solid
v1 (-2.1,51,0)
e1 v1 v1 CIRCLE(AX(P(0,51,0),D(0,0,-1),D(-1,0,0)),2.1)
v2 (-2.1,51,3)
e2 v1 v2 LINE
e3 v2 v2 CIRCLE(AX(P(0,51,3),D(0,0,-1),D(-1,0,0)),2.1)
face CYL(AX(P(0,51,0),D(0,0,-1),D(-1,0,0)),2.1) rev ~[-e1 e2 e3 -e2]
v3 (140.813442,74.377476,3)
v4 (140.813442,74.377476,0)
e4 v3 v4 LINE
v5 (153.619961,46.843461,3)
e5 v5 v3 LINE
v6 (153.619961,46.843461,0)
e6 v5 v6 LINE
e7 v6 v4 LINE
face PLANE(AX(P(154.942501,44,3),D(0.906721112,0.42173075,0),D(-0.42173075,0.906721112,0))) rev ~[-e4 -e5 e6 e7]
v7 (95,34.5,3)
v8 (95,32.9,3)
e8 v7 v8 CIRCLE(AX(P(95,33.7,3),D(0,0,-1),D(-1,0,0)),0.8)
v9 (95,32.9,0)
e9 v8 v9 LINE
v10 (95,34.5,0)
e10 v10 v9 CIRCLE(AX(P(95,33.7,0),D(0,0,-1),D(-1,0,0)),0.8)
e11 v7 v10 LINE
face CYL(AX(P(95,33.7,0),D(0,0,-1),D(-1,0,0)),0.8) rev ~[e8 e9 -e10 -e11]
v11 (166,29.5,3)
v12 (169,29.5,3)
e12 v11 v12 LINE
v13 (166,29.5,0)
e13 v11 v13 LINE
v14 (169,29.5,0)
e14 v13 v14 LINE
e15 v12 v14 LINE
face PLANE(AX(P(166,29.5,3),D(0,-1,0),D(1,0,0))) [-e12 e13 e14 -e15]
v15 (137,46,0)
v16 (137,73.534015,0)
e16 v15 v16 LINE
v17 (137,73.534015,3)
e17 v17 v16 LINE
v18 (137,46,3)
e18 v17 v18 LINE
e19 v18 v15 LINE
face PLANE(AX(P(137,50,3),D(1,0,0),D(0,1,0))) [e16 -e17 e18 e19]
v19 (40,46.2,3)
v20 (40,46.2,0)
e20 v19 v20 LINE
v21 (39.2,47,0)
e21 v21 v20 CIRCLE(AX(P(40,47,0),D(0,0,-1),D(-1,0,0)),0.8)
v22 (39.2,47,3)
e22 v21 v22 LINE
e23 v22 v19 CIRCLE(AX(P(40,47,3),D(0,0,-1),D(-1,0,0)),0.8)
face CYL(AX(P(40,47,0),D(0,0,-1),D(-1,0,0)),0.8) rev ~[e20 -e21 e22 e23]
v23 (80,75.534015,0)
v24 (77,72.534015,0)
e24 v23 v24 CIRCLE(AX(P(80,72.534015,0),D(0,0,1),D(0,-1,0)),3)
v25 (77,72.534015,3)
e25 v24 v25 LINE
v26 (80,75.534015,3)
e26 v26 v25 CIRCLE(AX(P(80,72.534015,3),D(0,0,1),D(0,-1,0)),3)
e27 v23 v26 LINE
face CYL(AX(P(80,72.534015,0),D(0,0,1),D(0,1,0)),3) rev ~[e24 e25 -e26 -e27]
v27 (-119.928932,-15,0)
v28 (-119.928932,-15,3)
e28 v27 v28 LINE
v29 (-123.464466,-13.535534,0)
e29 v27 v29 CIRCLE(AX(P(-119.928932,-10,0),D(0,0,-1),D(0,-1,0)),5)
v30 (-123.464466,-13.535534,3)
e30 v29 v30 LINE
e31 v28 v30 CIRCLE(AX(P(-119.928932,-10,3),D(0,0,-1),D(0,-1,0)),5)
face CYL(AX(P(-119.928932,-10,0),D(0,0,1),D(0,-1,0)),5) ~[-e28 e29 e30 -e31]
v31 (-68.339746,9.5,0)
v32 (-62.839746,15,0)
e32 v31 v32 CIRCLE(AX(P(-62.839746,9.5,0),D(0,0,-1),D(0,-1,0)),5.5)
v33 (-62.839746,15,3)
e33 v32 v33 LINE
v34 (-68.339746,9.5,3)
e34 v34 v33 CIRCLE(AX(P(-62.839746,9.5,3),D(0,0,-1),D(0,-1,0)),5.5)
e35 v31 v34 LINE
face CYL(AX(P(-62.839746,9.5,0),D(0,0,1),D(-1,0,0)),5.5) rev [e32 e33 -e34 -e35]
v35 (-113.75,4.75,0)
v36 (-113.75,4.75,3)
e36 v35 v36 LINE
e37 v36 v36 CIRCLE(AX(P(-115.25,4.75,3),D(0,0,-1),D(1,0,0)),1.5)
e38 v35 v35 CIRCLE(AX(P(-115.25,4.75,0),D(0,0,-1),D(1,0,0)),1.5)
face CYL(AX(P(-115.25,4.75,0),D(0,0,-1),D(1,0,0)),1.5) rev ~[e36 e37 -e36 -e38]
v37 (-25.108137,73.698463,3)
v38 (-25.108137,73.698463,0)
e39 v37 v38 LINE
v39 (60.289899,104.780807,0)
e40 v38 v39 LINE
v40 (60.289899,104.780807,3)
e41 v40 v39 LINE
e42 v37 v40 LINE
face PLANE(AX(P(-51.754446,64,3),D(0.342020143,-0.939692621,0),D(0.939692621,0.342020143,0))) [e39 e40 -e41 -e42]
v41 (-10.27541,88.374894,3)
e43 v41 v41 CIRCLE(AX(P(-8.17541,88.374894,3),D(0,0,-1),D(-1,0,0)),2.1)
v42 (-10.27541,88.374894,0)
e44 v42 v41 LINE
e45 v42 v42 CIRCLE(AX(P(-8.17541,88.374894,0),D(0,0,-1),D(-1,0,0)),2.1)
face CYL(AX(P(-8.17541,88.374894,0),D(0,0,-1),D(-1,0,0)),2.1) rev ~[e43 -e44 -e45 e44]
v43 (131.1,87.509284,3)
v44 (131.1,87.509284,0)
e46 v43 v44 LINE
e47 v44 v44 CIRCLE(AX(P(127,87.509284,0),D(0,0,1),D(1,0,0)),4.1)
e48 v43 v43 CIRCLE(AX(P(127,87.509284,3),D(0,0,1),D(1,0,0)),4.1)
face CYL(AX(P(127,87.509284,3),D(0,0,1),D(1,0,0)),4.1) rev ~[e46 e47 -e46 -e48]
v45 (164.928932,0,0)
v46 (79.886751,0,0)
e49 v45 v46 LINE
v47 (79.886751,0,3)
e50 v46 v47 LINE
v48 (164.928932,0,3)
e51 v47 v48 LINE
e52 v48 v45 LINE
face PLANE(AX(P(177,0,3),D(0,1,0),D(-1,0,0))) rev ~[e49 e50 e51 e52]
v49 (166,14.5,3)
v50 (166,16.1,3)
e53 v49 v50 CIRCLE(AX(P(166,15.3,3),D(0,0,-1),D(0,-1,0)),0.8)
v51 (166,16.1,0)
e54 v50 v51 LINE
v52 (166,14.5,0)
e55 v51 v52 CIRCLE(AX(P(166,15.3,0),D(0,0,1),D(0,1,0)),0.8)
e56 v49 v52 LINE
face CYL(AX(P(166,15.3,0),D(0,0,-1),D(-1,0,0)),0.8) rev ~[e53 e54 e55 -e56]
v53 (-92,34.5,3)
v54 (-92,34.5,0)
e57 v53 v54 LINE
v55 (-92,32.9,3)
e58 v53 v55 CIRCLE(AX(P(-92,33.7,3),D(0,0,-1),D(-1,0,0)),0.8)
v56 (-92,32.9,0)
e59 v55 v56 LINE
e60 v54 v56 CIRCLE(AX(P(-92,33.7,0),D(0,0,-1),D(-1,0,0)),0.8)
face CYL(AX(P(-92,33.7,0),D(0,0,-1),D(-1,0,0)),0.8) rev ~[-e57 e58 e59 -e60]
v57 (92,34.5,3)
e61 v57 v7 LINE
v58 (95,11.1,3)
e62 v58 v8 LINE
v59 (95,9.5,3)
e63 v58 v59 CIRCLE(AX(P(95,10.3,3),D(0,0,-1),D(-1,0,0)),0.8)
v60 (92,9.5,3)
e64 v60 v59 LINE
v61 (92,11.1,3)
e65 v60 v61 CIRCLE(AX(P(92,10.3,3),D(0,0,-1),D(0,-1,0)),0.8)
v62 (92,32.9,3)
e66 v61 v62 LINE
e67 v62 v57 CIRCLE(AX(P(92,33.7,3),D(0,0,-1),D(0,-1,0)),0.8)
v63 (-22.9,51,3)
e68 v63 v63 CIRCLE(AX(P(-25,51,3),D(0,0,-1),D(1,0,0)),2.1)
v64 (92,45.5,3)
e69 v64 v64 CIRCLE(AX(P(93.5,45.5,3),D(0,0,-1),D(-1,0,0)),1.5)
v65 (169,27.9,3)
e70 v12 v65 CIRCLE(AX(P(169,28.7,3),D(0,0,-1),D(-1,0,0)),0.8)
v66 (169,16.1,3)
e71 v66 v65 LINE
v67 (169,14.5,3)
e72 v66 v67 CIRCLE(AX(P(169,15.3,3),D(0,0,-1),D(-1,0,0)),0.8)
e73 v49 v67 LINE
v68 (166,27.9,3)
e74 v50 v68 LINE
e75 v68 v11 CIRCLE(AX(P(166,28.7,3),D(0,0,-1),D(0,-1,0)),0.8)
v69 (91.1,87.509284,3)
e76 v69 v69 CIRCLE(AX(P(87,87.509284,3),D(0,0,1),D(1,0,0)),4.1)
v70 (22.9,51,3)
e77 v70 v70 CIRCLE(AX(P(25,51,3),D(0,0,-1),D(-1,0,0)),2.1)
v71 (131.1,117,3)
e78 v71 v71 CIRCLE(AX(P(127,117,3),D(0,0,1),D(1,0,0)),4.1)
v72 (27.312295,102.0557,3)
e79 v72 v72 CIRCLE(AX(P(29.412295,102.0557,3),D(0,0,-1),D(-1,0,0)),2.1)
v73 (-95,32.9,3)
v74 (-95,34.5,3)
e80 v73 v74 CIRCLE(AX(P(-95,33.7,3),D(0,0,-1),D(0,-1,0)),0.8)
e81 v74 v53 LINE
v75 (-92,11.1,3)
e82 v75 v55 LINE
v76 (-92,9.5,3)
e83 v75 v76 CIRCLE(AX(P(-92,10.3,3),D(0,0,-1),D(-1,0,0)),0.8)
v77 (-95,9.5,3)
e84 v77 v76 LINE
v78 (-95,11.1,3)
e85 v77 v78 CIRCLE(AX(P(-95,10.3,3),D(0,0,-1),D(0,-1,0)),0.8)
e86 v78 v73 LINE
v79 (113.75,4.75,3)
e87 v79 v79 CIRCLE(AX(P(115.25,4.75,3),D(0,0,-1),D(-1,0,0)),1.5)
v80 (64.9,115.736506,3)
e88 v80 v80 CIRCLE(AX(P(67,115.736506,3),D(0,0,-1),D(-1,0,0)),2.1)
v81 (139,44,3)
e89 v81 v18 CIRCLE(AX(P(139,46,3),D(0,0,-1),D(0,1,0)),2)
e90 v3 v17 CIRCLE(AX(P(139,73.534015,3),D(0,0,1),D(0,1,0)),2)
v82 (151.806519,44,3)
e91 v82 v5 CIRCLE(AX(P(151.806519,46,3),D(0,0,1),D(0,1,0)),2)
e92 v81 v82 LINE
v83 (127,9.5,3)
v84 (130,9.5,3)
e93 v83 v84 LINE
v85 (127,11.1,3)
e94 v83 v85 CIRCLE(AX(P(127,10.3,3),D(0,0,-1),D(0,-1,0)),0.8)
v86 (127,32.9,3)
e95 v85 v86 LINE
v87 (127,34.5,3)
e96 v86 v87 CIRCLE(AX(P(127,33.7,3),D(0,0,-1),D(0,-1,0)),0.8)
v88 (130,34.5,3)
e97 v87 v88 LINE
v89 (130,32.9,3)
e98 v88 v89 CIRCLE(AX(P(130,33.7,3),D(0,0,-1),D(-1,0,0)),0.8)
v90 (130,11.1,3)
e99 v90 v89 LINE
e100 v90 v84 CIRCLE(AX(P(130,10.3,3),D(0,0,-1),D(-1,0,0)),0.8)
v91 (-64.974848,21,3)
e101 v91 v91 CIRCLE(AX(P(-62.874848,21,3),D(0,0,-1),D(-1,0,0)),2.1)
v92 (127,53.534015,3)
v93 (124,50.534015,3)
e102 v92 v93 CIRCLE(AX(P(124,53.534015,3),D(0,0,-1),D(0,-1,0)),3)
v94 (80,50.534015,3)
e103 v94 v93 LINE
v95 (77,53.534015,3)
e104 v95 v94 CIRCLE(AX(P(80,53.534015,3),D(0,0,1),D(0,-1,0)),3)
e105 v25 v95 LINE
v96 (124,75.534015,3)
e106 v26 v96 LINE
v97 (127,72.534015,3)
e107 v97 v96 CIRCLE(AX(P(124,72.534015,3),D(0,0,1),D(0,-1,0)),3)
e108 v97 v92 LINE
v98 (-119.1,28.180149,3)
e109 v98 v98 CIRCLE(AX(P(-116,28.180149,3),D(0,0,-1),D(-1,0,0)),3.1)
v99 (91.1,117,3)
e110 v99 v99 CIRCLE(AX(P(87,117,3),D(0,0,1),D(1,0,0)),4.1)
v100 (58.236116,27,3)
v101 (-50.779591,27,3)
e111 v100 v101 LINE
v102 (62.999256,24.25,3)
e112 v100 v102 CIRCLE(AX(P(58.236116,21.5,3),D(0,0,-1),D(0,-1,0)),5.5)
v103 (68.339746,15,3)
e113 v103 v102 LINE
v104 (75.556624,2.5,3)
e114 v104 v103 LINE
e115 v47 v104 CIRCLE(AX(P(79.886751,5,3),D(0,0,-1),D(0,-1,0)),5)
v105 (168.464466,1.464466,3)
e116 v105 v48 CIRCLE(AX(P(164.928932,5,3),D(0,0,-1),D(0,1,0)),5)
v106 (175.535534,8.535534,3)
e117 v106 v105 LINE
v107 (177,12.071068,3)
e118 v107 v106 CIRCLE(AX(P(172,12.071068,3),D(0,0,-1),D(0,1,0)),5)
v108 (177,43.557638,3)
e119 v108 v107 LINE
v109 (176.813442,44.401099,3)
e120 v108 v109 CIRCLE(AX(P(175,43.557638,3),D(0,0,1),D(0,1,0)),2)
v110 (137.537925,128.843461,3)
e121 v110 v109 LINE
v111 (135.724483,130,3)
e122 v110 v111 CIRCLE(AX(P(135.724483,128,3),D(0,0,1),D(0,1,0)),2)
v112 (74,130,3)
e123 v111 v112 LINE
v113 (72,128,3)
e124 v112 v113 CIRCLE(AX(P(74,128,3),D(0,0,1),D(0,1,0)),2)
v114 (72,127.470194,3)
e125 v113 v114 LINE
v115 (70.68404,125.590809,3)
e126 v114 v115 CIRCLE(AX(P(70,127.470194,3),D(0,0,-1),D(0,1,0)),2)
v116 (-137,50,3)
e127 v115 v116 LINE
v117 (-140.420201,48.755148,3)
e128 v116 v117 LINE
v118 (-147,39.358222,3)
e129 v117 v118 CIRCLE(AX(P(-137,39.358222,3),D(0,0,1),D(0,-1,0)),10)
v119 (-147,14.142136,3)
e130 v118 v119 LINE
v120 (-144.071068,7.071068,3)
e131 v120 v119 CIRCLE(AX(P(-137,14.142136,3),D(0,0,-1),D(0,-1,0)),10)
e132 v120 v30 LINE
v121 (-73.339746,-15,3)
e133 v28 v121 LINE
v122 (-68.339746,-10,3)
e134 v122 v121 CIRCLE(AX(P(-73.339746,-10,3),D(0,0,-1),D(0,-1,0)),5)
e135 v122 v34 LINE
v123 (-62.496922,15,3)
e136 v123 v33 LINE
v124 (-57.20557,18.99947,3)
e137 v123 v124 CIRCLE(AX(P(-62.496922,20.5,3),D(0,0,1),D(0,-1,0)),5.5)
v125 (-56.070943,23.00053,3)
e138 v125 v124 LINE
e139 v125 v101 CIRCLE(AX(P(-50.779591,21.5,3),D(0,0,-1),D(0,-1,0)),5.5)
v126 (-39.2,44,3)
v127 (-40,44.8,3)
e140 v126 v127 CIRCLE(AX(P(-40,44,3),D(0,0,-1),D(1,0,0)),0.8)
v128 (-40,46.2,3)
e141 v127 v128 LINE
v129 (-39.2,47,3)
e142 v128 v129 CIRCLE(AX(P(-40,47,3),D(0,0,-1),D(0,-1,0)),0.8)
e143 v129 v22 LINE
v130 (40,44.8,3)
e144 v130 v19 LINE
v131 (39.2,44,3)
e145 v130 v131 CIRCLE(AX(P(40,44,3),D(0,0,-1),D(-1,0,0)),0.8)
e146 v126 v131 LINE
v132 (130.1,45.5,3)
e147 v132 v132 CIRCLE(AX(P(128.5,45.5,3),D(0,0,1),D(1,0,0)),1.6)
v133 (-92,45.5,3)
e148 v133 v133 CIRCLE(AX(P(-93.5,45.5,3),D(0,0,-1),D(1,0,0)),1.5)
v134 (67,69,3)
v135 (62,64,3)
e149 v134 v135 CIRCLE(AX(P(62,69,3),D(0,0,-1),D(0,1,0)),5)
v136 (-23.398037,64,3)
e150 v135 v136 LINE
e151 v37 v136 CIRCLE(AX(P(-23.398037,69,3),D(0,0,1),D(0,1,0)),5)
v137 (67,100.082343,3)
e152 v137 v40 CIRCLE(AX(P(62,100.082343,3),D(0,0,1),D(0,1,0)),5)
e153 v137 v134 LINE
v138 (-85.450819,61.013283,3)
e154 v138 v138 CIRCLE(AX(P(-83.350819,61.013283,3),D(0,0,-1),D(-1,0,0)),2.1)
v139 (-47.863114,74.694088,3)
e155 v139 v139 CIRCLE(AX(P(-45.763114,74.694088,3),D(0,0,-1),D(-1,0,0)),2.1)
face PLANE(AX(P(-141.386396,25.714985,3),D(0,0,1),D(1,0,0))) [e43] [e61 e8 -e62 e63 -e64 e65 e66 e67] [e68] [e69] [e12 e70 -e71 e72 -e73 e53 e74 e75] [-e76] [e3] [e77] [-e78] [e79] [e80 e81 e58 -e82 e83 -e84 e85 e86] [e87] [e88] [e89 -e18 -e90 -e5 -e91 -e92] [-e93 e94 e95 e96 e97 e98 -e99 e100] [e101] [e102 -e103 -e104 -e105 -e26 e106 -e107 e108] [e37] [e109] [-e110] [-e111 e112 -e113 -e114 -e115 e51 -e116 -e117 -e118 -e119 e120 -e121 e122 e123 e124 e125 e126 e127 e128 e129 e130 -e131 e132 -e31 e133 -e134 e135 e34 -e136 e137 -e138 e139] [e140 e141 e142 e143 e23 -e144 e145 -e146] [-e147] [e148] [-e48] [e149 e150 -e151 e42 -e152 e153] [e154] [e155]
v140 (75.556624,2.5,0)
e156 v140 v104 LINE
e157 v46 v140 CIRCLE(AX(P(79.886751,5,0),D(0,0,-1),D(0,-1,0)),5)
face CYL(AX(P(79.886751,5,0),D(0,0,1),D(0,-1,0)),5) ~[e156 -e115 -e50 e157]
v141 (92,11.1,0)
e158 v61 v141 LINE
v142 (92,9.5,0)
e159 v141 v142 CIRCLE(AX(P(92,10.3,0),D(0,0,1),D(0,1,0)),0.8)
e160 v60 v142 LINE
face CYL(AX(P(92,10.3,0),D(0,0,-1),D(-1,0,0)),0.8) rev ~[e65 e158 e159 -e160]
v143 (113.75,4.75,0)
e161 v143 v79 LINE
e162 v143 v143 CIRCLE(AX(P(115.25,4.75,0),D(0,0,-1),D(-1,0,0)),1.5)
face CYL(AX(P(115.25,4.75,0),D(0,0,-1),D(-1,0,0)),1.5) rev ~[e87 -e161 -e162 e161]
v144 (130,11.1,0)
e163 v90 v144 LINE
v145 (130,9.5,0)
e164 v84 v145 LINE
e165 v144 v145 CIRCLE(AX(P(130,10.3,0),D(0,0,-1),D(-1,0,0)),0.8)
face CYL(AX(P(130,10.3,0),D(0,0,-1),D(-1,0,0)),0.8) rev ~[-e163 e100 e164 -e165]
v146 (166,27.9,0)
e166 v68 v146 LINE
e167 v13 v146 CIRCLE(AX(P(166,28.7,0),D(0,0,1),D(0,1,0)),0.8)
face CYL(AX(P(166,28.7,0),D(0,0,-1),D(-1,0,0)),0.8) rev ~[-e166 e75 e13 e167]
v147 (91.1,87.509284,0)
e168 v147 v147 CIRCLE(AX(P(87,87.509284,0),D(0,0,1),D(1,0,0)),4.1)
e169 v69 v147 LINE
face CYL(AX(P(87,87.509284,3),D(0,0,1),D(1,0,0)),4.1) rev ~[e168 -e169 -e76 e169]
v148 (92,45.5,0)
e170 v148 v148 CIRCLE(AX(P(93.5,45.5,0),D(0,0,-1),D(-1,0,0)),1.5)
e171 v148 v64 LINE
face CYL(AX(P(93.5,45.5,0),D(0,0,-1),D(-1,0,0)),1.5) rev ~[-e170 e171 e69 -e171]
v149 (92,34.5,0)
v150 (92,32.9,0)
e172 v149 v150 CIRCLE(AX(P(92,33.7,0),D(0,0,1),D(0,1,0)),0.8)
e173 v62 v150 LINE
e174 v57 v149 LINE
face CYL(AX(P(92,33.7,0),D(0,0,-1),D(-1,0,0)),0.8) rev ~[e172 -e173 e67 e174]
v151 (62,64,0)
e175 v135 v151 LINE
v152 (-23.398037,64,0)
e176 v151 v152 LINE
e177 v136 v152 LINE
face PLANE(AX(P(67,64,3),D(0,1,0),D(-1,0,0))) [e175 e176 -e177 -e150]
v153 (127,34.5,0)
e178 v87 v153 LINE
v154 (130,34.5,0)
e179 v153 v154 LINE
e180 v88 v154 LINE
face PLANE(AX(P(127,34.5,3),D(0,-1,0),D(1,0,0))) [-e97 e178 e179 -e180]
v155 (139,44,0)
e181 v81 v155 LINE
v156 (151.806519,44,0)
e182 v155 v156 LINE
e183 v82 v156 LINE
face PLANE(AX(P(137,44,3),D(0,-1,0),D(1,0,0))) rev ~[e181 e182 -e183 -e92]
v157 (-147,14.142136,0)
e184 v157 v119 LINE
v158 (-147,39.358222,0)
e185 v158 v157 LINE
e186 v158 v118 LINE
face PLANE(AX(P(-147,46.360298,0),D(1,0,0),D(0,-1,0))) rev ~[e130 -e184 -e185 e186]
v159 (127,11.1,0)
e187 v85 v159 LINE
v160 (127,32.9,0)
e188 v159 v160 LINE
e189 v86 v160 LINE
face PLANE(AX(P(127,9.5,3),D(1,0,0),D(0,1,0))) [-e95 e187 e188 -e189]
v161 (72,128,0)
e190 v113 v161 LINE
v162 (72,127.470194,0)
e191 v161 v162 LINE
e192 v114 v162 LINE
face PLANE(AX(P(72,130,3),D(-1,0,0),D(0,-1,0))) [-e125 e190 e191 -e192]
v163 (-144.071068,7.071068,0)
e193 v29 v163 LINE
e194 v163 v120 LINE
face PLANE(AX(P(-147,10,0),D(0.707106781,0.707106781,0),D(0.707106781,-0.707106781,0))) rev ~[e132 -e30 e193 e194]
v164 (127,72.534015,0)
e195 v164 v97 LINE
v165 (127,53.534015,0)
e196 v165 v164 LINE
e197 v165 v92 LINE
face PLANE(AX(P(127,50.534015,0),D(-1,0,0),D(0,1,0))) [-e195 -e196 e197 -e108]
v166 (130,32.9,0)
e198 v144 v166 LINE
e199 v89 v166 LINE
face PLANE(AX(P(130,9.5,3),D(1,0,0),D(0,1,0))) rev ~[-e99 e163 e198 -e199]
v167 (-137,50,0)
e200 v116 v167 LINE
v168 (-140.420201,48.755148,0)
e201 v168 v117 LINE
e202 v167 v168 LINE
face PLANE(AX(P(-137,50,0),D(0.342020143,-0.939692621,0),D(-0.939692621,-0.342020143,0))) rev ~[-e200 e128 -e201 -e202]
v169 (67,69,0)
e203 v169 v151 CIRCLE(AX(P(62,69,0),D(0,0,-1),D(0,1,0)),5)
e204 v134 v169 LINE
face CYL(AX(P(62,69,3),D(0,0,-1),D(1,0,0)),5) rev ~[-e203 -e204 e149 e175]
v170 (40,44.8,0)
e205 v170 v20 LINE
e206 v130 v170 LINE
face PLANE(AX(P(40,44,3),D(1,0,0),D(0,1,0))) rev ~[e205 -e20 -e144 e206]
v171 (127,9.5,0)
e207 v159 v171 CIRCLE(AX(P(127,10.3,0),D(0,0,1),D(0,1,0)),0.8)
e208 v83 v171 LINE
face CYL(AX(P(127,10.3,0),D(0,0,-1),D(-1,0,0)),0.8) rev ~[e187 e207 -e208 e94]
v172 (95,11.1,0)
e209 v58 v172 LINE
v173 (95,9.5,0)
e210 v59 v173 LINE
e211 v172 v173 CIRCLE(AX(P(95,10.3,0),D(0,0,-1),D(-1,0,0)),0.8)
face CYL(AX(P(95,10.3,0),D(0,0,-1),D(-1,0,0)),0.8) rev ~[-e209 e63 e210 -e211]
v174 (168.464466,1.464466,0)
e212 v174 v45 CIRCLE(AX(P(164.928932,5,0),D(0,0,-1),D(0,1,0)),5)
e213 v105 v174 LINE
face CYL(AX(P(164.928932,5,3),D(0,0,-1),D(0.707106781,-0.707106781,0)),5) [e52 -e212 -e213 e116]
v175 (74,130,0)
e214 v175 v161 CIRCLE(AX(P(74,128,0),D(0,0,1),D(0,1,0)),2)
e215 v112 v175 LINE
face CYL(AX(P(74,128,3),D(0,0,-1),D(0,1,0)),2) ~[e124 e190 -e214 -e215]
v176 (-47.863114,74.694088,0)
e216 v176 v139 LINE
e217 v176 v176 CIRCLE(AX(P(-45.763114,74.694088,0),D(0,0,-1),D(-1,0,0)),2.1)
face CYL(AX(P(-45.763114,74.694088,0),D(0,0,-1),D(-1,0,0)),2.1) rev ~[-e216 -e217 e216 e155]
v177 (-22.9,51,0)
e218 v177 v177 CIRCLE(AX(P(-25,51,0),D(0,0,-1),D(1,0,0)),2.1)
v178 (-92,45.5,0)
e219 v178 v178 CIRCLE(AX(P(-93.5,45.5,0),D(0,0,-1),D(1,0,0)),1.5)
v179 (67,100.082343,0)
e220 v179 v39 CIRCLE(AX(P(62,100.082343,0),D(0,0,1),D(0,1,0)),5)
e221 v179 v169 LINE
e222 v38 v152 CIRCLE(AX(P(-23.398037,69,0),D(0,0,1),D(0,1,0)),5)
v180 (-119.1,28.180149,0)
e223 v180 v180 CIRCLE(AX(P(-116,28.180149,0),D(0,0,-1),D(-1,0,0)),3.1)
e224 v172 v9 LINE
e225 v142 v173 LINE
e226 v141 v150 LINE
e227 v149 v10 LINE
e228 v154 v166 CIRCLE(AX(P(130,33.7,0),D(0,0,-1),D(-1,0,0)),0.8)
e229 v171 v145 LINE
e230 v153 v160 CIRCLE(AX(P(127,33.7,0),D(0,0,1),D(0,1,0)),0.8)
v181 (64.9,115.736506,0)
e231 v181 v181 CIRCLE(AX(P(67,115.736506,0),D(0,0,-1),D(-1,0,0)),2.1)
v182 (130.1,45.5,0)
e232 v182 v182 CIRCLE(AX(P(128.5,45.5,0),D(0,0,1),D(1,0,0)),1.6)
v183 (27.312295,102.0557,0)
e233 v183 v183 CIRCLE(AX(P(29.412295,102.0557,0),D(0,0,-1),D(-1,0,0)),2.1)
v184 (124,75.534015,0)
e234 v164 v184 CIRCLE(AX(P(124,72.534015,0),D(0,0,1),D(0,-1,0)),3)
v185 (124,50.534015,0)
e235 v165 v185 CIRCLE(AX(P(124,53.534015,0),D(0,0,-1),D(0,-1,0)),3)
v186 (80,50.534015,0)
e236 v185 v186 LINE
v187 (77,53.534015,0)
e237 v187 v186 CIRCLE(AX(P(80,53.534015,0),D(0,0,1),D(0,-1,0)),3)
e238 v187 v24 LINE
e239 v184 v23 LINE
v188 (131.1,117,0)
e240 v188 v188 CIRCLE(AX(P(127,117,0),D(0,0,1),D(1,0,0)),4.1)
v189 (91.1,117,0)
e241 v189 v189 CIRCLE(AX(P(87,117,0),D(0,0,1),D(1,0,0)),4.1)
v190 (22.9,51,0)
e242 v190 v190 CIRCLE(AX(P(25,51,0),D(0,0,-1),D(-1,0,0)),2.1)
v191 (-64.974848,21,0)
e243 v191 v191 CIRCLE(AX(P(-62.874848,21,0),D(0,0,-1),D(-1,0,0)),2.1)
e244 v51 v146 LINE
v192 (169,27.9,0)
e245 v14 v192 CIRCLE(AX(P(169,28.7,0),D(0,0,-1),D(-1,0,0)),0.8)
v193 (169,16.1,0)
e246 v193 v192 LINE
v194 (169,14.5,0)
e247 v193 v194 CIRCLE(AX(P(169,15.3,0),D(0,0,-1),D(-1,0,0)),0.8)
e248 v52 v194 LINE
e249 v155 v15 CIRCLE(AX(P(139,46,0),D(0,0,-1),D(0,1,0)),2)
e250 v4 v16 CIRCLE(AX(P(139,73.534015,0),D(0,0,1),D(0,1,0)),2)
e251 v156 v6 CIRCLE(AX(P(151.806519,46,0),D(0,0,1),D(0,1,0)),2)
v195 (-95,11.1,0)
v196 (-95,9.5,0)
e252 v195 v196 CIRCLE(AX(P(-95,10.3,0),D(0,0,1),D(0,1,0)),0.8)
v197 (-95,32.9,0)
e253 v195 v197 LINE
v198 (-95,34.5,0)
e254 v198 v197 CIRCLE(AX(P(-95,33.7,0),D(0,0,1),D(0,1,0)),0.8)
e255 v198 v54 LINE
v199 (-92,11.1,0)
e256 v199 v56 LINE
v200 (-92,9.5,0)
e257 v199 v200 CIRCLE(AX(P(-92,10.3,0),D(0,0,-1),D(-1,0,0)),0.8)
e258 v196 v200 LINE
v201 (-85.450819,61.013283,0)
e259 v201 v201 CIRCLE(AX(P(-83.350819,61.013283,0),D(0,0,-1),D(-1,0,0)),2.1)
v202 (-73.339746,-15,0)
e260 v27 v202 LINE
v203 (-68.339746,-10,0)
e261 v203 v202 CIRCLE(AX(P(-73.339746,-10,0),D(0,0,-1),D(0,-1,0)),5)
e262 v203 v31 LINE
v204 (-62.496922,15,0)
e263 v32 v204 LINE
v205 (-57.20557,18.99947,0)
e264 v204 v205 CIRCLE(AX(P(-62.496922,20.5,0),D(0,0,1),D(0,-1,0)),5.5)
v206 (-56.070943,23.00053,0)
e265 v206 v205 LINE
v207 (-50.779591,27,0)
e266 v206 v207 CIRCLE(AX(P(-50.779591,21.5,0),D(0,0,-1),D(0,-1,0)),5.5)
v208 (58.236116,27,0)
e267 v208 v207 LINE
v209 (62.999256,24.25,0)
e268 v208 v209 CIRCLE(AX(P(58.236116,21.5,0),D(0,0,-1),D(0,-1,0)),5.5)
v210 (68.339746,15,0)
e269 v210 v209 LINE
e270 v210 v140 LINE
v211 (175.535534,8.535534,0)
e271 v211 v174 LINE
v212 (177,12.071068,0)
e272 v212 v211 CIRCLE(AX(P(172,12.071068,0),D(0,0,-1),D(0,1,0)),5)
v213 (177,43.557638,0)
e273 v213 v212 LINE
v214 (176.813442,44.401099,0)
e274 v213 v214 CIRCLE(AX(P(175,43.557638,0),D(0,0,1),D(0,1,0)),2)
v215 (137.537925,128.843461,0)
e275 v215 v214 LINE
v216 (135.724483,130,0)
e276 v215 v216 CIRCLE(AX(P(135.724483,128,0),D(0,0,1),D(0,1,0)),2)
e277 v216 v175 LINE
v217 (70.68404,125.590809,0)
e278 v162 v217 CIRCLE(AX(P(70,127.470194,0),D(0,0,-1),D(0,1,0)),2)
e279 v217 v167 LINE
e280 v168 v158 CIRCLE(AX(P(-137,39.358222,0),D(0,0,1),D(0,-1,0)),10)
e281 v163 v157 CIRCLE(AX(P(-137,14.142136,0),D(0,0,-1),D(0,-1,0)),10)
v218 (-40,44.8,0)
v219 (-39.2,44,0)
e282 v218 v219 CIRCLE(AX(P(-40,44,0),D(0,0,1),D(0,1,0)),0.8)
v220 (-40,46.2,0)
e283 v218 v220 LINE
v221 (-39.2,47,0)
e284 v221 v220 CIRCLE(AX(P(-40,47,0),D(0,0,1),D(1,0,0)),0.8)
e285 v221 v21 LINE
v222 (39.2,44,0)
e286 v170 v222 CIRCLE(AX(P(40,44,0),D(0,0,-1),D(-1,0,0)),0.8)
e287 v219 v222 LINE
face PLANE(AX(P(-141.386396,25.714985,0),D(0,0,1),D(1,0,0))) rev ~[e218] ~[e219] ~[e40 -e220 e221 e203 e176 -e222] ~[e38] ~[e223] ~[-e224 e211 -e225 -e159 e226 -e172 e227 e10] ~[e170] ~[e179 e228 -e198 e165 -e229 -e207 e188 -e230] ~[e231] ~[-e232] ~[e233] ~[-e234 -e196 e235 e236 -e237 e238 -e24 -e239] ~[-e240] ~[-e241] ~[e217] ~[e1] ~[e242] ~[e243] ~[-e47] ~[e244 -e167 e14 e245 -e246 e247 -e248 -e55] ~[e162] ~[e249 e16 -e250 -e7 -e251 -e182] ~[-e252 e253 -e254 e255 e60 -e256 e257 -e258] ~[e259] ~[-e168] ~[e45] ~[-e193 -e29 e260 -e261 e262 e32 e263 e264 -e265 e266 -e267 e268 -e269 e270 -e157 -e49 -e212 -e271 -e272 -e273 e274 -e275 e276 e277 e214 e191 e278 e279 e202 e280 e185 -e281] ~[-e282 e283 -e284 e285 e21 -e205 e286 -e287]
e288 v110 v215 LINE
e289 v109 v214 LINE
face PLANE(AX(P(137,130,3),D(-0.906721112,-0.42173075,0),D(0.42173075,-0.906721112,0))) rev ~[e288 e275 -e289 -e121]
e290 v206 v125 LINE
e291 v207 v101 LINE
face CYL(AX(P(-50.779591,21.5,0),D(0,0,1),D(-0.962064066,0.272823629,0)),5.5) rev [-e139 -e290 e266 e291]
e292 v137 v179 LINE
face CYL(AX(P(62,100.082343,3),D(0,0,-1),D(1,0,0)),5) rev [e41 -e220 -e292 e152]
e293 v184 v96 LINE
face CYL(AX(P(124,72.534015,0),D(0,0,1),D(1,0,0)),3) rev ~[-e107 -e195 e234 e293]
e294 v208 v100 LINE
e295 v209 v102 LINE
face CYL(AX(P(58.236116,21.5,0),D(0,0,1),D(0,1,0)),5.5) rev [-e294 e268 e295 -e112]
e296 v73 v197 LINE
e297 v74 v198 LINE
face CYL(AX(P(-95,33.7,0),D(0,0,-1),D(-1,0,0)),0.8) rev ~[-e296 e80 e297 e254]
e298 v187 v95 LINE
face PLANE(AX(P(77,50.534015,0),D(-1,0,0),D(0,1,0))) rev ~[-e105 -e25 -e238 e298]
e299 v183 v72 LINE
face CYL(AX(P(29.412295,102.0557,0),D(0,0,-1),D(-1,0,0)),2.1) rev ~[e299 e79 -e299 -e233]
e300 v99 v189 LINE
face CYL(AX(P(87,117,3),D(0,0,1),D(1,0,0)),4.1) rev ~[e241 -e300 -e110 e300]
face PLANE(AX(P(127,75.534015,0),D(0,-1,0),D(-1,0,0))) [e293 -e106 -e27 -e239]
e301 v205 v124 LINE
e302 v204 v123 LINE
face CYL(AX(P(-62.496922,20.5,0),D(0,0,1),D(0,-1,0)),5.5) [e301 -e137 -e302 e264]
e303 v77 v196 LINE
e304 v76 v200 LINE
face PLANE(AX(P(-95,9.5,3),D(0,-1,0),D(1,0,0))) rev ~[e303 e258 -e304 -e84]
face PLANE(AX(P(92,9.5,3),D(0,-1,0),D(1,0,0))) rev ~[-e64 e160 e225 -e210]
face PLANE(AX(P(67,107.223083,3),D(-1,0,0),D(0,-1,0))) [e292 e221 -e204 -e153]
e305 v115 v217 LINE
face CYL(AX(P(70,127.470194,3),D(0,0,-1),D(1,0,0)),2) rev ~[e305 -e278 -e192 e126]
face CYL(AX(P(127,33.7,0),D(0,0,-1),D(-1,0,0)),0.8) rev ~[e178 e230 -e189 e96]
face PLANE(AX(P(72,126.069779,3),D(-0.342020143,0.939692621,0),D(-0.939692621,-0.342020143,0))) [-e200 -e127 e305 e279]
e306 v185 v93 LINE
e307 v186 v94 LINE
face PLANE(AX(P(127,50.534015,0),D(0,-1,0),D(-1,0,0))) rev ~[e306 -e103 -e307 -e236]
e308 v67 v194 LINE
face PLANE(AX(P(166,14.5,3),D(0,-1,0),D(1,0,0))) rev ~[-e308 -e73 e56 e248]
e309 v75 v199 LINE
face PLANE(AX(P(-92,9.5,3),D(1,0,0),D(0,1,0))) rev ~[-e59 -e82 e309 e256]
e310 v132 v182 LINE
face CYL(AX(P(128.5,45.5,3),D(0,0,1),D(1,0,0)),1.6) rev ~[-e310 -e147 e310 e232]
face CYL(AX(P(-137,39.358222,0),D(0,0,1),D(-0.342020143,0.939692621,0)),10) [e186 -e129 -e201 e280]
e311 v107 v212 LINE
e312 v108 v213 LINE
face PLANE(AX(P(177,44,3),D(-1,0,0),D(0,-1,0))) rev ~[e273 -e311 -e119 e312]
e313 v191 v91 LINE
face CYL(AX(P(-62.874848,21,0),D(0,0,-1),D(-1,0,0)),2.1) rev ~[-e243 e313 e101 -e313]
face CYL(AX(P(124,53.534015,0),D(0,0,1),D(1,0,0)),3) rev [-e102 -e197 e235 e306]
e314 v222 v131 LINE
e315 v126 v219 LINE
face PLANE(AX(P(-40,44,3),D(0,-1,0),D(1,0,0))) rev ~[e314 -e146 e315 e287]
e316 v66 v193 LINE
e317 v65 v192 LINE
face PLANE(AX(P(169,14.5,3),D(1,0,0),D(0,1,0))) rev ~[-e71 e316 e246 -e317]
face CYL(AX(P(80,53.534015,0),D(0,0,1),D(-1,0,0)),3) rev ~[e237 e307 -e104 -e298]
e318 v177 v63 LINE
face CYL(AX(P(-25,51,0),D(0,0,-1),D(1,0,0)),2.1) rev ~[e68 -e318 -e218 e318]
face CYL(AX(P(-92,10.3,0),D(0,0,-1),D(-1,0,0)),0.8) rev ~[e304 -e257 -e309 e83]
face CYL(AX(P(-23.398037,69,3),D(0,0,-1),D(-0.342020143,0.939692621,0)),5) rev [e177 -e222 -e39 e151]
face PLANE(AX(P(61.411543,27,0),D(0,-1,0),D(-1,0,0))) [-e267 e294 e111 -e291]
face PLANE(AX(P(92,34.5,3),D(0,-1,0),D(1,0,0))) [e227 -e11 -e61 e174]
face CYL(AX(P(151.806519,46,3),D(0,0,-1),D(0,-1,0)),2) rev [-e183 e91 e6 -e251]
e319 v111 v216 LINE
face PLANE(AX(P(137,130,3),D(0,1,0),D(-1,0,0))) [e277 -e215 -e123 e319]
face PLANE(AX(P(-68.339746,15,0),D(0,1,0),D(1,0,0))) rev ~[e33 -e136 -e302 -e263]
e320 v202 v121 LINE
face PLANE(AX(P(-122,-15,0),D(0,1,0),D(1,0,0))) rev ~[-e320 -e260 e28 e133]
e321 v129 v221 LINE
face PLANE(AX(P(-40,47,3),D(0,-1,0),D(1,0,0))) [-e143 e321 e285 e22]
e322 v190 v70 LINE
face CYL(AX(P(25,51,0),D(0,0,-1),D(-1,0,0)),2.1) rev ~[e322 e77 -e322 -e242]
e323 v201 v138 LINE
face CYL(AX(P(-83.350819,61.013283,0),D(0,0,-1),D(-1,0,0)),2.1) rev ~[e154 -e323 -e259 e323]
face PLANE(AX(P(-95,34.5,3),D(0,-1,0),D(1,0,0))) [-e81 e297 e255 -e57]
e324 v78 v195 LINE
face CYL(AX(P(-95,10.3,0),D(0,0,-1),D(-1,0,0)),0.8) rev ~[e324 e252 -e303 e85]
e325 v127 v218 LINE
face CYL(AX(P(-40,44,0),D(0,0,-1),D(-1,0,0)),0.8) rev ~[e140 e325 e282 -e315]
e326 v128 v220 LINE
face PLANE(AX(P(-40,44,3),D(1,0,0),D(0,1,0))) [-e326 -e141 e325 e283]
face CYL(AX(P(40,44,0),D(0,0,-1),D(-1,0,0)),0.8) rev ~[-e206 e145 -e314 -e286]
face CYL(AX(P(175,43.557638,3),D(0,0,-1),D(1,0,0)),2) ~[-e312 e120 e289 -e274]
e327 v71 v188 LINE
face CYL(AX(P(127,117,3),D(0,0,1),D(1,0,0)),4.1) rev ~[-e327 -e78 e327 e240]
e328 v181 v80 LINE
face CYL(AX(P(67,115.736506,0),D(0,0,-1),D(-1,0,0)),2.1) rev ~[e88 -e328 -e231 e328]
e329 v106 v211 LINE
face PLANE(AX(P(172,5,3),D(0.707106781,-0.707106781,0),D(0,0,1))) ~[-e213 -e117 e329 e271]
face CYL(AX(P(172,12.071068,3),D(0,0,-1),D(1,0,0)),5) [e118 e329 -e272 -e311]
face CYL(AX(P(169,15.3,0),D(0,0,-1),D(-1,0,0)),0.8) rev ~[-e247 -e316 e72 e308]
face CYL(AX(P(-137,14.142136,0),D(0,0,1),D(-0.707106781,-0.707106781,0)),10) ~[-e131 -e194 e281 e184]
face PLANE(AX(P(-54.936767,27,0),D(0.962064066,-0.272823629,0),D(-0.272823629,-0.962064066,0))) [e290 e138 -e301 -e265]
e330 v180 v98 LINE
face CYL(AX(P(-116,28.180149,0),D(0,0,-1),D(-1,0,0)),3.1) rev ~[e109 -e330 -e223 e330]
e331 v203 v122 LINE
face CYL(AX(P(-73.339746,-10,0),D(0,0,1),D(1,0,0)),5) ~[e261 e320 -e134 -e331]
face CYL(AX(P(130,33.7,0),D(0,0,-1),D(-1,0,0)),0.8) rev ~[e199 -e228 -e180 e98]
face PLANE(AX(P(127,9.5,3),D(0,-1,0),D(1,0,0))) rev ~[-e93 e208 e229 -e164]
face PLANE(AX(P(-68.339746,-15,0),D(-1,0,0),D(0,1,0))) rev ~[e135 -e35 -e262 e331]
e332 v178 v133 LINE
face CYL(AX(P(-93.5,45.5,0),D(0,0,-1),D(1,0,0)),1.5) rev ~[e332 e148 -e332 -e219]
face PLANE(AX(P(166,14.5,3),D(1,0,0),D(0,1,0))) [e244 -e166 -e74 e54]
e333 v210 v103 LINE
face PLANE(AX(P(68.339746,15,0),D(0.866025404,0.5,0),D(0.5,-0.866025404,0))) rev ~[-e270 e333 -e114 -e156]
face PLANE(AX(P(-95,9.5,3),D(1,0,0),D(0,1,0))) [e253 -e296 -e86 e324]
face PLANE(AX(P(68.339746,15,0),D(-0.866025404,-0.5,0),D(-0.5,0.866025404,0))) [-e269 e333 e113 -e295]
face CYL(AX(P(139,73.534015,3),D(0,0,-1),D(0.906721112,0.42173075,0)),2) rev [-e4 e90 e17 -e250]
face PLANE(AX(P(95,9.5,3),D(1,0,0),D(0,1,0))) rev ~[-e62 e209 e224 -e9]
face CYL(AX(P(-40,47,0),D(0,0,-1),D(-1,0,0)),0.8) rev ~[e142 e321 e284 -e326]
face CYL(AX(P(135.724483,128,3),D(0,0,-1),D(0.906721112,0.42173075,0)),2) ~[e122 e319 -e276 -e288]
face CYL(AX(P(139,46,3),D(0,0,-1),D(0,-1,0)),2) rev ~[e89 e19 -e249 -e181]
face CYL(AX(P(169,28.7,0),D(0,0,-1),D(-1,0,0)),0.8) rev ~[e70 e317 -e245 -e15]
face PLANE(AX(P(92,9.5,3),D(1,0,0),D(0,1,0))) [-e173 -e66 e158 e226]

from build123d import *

# Parameters (mm, degrees)
SKETCH1_W           = 274
SKETCH1_H           = 44
BOSS_EXTRUDE1_DEPTH = 3
SKETCH2_W           = 3
SKETCH2_H           = 25
CUT_EXTRUDE1_DEPTH  = 144.923590839
SKETCH3_W           = 274
SKETCH3_H           = 6
BOSS_EXTRUDE2_DEPTH = 3
SKETCH4_W           = 80
SKETCH4_H           = 3
CUT_EXTRUDE2_DEPTH  = 146.869804963
SKETCH6_R           = 2.1
CUT_EXTRUDE3_DEPTH  = 146.869804963
CUT_EXTRUDE4_DEPTH  = 146.869804963
SKETCH8_R           = 1.5
CUT_EXTRUDE5_DEPTH  = 3
BOSS_EXTRUDE4_DEPTH = 3
BOSS_EXTRUDE5_DEPTH = 3
FILLET2_R           = 5
BOSS_EXTRUDE6_DEPTH = 3
FILLET3_R           = 2
SKETCH13_W          = 3
SKETCH13_H          = 15
CUT_EXTRUDE6_DEPTH  = 3
CHAMFER2_SIZE       = 10
FILLET4_R           = 2
FILLET5_R           = 5
CUT_EXTRUDE9_DEPTH  = 220.631509579
FILLET6_R           = 5.5
BOSS_EXTRUDE7_DEPTH = 3
FILLET7_R           = 10
SKETCH18_R          = 4.1
CUT_EXTRUDE10_DEPTH = 220.631509579
SKETCH19_R          = 1.6
SKETCH19_W          = 3
SKETCH19_H          = 25
CUT_EXTRUDE11_DEPTH = 220.631509579
SKETCH20_R          = 3.1
CUT_EXTRUDE12_DEPTH = 220.631509579
SKETCH21_R          = 0.8
CUT_EXTRUDE13_DEPTH = 220.631509579
SKETCH22_R          = 2.1
CUT_EXTRUDE14_DEPTH = 220.631509579
SKETCH23_W          = 50
SKETCH23_H          = 25
CUT_EXTRUDE15_DEPTH = 220.631509579
FILLET8_R           = 3
SKETCH25_R          = 2.1
CUT_EXTRUDE16_DEPTH = 220.631509579


with BuildPart() as part:
    # Sketch1 → Boss-Extrude1 (new body)
    with BuildSketch(Plane.XY):
        with Locations((0, 22)):
            Rectangle(SKETCH1_W, SKETCH1_H)
    extrude(amount=BOSS_EXTRUDE1_DEPTH)

    # Sketch2 → Cut-Extrude1 (cut, through all)
    with BuildSketch(Plane.XY.offset(3)):
        with Locations((-93.5, 22)):
            Rectangle(SKETCH2_W, SKETCH2_H)
        with Locations((93.5, 22)):
            Rectangle(SKETCH2_W, SKETCH2_H)
    extrude(amount=-CUT_EXTRUDE1_DEPTH, mode=Mode.SUBTRACT)

    # Sketch3 → Boss-Extrude2 (add)
    with BuildSketch(Plane.XY.offset(3)):
        with Locations((0, 47)):
            Rectangle(SKETCH3_W, SKETCH3_H)
    extrude(amount=-BOSS_EXTRUDE2_DEPTH)

    # Sketch4 → Cut-Extrude2 (cut, through all)
    with BuildSketch(Plane.XY.offset(3)):
        with Locations((0, 45.5)):
            Rectangle(SKETCH4_W, SKETCH4_H)
    extrude(amount=-CUT_EXTRUDE2_DEPTH, mode=Mode.SUBTRACT)

    # Sketch6 → Cut-Extrude3 (cut, through all)
    with BuildSketch(Plane(origin=(0, 0, 0), x_dir=(-1, 0, 0), z_dir=(0, 0, -1))):
        with Locations((62.874847501, 21)):
            Circle(SKETCH6_R)
    extrude(amount=-CUT_EXTRUDE3_DEPTH, mode=Mode.SUBTRACT)

    # Sketch7 → Cut-Extrude4 (cut, through all)
    with BuildSketch(Plane(origin=(0, 0, 0), x_dir=(-1, 0, 0), z_dir=(0, 0, -1))):
        Polygon((0, 15), (-68.339745962, 15), (-77, 0), (0, 0), align=None)
        Polygon((68.339745962, 15), (0, 15), (0, 0), (77, 0), align=None)
    extrude(amount=-CUT_EXTRUDE4_DEPTH, mode=Mode.SUBTRACT)

    # Sketch8 → Cut-Extrude5 (cut)
    with BuildSketch(Plane(origin=(0, 0, 0), x_dir=(-1, 0, 0), z_dir=(0, 0, -1))):
        with Locations((-93.5, 45.5)):
            Circle(SKETCH8_R)
        with Locations((-115.25, 4.75)):
            Circle(SKETCH8_R)
        with Locations((-71.75, 4.75)):
            Circle(SKETCH8_R)
        with Locations((71.75, 4.75)):
            Circle(SKETCH8_R)
        with Locations(Location((115.25, 4.75, 0), (0, 0, 180))):
            Circle(SKETCH8_R)
        with Locations(Location((93.5, 45.5, 0), (0, 0, 180))):
            Circle(SKETCH8_R)
    extrude(amount=-CUT_EXTRUDE5_DEPTH, mode=Mode.SUBTRACT)

    # Sketch9 → Boss-Extrude4 (add)
    with BuildSketch(Plane(origin=(0, 0, 0), x_dir=(-1, 0, 0), z_dir=(0, 0, -1))):
        Polygon((137, 0), (122, -15), (68.339745962, -15), (68.339745962, 15), (77, 0), align=None)
    extrude(amount=-BOSS_EXTRUDE4_DEPTH)

    # Sketch10 → Boss-Extrude5 (add)
    with BuildSketch(Plane.XY.offset(3)):
        Polygon((137, 50), (137, 130), (72, 130), (72, 126.069778962), (-137, 50), align=None)
        Polygon((-51.754445725, 64), (67, 107.223083431), (67, 64), align=None, mode=Mode.SUBTRACT)
    extrude(amount=-BOSS_EXTRUDE5_DEPTH)

    # Fillet2
    fillet2_edges = [part.edges().sort_by_distance(p)[0] for p in [
        (67, 64, 1.5),
        (67, 107.223083431, 1.5),
        (-51.754445725, 64, 1.5),
    ]]
    fillet(fillet2_edges, radius=FILLET2_R)

    # Sketch11 → Boss-Extrude6 (add)
    with BuildSketch(Plane.XY.offset(3)):
        Polygon((137, 44), (154.942501021, 44), (137, 82.576377194), (137, 130), (177, 44), (177, 0), (137, 0), align=None)
    extrude(amount=-BOSS_EXTRUDE6_DEPTH)

    # Fillet3
    fillet3_edges = [part.edges().sort_by_distance(p)[0] for p in [
        (137, 44, 1.5),
        (154.942501021, 44, 1.5),
        (137, 82.576377194, 1.5),
    ]]
    fillet(fillet3_edges, radius=FILLET3_R)

    # Sketch13 → Cut-Extrude6 (cut)
    with BuildSketch(Plane.XY.offset(3)):
        with Locations((167.5, 22)):
            Rectangle(SKETCH13_W, SKETCH13_H)
    extrude(amount=-CUT_EXTRUDE6_DEPTH, mode=Mode.SUBTRACT)

    # Chamfer2
    chamfer2_edges = [part.edges().sort_by_distance(p)[0] for p in [
        (177, 0, 1.5),
    ]]
    chamfer(chamfer2_edges, length=CHAMFER2_SIZE)

    # Fillet4
    fillet4_edges = [part.edges().sort_by_distance(p)[0] for p in [
        (137, 130, 1.5),
        (72, 130, 1.5),
        (72, 126.069778962, 1.5),
        (177, 44, 1.5),
    ]]
    fillet(fillet4_edges, radius=FILLET4_R)

    # Fillet5
    fillet5_edges = [part.edges().sort_by_distance(p)[0] for p in [
        (-68.339745962, -15, 1.5),
        (-122, -15, 1.5),
        (167, 0, 1.5),
        (177, 10, 1.5),
        (77, 0, 1.5),
    ]]
    fillet(fillet5_edges, radius=FILLET5_R)

    # Sketch15 → Cut-Extrude9 (cut, through all)
    with BuildSketch(Plane(origin=(0, 0, 0), x_dir=(-1, 0, 0), z_dir=(0, 0, -1))):
        Polygon((-68.339745962, 15), (-61.411542732, 27), (54.936767243, 27), (58.339745962, 15), align=None)
    extrude(amount=-CUT_EXTRUDE9_DEPTH, mode=Mode.SUBTRACT)

    # Fillet6
    fillet6_edges = [part.edges().sort_by_distance(p)[0] for p in [
        (-58.339745962, 15, 1.5),
        (61.411542732, 27, 1.5),
        (-54.936767243, 27, 1.5),
        (-68.339745962, 15, 1.5),
    ]]
    fillet(fillet6_edges, radius=FILLET6_R)

    # Sketch17 → Boss-Extrude7 (add)
    with BuildSketch(Plane(origin=(0, 0, 0), x_dir=(-1, 0, 0), z_dir=(0, 0, -1))):
        Polygon((137, 50), (147, 46.360297657), (147, 10), (137, 0), align=None)
    extrude(amount=-BOSS_EXTRUDE7_DEPTH)

    # Fillet7
    fillet7_edges = [part.edges().sort_by_distance(p)[0] for p in [
        (-147, 10, 1.5),
        (-147, 46.360297657, 1.5),
    ]]
    fillet(fillet7_edges, radius=FILLET7_R)

    # Sketch18 → Cut-Extrude10 (cut, through all)
    with BuildSketch(Plane.XY.offset(3)):
        with Locations((87, 117)):
            Circle(SKETCH18_R)
        with Locations((127, 117)):
            Circle(SKETCH18_R)
        with Locations((87, 87.509284164)):
            Circle(SKETCH18_R)
        with Locations((127, 87.509284164)):
            Circle(SKETCH18_R)
    extrude(amount=-CUT_EXTRUDE10_DEPTH, mode=Mode.SUBTRACT)

    # Sketch19 → Cut-Extrude11 (cut, through all)
    with BuildSketch(Plane.XY.offset(3)):
        with Locations((128.5, 45.5)):
            Circle(SKETCH19_R)
        with Locations((128.5, 22)):
            Rectangle(SKETCH19_W, SKETCH19_H)
    extrude(amount=-CUT_EXTRUDE11_DEPTH, mode=Mode.SUBTRACT)

    # Sketch20 → Cut-Extrude12 (cut, through all)
    with BuildSketch(Plane(origin=(0, 0, 0), x_dir=(-1, 0, 0), z_dir=(0, 0, -1))):
        with Locations((116, 28.180148829)):
            Circle(SKETCH20_R)
    extrude(amount=-CUT_EXTRUDE12_DEPTH, mode=Mode.SUBTRACT)

    # Sketch21 → Cut-Extrude13 (cut, through all)
    with BuildSketch(Plane(origin=(0, 0, 0), x_dir=(-1, 0, 0), z_dir=(0, 0, -1))):
        with Locations((-166, 28.7)):
            Circle(SKETCH21_R)
        with Locations((-169, 15.3)):
            Circle(SKETCH21_R)
        with Locations((-166, 15.3)):
            Circle(SKETCH21_R)
        with Locations((-130, 33.7)):
            Circle(SKETCH21_R)
        with Locations((-127, 33.7)):
            Circle(SKETCH21_R)
        with Locations((-130, 10.3)):
            Circle(SKETCH21_R)
        with Locations((-127, 10.3)):
            Circle(SKETCH21_R)
        with Locations((-95, 33.7)):
            Circle(SKETCH21_R)
        with Locations((-92, 33.7)):
            Circle(SKETCH21_R)
        with Locations((-95, 10.3)):
            Circle(SKETCH21_R)
        with Locations((-92, 10.3)):
            Circle(SKETCH21_R)
        with Locations((-40, 47)):
            Circle(SKETCH21_R)
        with Locations((-40, 44)):
            Circle(SKETCH21_R)
        with Locations((40, 47)):
            Circle(SKETCH21_R)
        with Locations((40, 44)):
            Circle(SKETCH21_R)
        with Locations((95, 33.7)):
            Circle(SKETCH21_R)
        with Locations((95, 10.3)):
            Circle(SKETCH21_R)
        with Locations((-169, 28.7)):
            Circle(SKETCH21_R)
        with Locations((92, 33.7)):
            Circle(SKETCH21_R)
        with Locations((92, 10.3)):
            Circle(SKETCH21_R)
    extrude(amount=-CUT_EXTRUDE13_DEPTH, mode=Mode.SUBTRACT)

    # Sketch22 → Cut-Extrude14 (cut, through all)
    with BuildSketch(Plane(origin=(0, 0, 0), x_dir=(-1, 0, 0), z_dir=(0, 0, -1))):
        with Locations((0, 51)):
            Circle(SKETCH22_R)
        with Locations((-25, 51)):
            Circle(SKETCH22_R)
        with Locations(Location((25, 51, 0), (0, 0, 180))):
            Circle(SKETCH22_R)
    extrude(amount=-CUT_EXTRUDE14_DEPTH, mode=Mode.SUBTRACT)

    # Sketch23 → Cut-Extrude15 (cut, through all)
    with BuildSketch(Plane(origin=(0, 0, 0), x_dir=(-1, 0, 0), z_dir=(0, 0, -1))):
        with Locations((-102, 63.034014914)):
            Rectangle(SKETCH23_W, SKETCH23_H)
    extrude(amount=-CUT_EXTRUDE15_DEPTH, mode=Mode.SUBTRACT)

    # Fillet8
    fillet8_edges = [part.edges().sort_by_distance(p)[0] for p in [
        (77, 75.534014914, 1.5),
        (77, 50.534014914, 1.5),
        (127, 50.534014914, 1.5),
        (127, 75.534014914, 1.5),
    ]]
    fillet(fillet8_edges, radius=FILLET8_R)

    # Sketch25 → Cut-Extrude16 (cut, through all)
    with BuildSketch(Plane(origin=(0, 0, 0), x_dir=(-1, 0, 0), z_dir=(0, 0, -1))):
        with Locations((-67, 115.73650561)):
            Circle(SKETCH25_R)
        with Locations((-29.412295169, 102.055699877)):
            Circle(SKETCH25_R)
        with Locations((8.175409663, 88.374894144)):
            Circle(SKETCH25_R)
        with Locations((45.763114494, 74.694088411)):
            Circle(SKETCH25_R)
        with Locations((83.350819326, 61.013282678)):
            Circle(SKETCH25_R)
    extrude(amount=-CUT_EXTRUDE16_DEPTH, mode=Mode.SUBTRACT)


solid = part.part
